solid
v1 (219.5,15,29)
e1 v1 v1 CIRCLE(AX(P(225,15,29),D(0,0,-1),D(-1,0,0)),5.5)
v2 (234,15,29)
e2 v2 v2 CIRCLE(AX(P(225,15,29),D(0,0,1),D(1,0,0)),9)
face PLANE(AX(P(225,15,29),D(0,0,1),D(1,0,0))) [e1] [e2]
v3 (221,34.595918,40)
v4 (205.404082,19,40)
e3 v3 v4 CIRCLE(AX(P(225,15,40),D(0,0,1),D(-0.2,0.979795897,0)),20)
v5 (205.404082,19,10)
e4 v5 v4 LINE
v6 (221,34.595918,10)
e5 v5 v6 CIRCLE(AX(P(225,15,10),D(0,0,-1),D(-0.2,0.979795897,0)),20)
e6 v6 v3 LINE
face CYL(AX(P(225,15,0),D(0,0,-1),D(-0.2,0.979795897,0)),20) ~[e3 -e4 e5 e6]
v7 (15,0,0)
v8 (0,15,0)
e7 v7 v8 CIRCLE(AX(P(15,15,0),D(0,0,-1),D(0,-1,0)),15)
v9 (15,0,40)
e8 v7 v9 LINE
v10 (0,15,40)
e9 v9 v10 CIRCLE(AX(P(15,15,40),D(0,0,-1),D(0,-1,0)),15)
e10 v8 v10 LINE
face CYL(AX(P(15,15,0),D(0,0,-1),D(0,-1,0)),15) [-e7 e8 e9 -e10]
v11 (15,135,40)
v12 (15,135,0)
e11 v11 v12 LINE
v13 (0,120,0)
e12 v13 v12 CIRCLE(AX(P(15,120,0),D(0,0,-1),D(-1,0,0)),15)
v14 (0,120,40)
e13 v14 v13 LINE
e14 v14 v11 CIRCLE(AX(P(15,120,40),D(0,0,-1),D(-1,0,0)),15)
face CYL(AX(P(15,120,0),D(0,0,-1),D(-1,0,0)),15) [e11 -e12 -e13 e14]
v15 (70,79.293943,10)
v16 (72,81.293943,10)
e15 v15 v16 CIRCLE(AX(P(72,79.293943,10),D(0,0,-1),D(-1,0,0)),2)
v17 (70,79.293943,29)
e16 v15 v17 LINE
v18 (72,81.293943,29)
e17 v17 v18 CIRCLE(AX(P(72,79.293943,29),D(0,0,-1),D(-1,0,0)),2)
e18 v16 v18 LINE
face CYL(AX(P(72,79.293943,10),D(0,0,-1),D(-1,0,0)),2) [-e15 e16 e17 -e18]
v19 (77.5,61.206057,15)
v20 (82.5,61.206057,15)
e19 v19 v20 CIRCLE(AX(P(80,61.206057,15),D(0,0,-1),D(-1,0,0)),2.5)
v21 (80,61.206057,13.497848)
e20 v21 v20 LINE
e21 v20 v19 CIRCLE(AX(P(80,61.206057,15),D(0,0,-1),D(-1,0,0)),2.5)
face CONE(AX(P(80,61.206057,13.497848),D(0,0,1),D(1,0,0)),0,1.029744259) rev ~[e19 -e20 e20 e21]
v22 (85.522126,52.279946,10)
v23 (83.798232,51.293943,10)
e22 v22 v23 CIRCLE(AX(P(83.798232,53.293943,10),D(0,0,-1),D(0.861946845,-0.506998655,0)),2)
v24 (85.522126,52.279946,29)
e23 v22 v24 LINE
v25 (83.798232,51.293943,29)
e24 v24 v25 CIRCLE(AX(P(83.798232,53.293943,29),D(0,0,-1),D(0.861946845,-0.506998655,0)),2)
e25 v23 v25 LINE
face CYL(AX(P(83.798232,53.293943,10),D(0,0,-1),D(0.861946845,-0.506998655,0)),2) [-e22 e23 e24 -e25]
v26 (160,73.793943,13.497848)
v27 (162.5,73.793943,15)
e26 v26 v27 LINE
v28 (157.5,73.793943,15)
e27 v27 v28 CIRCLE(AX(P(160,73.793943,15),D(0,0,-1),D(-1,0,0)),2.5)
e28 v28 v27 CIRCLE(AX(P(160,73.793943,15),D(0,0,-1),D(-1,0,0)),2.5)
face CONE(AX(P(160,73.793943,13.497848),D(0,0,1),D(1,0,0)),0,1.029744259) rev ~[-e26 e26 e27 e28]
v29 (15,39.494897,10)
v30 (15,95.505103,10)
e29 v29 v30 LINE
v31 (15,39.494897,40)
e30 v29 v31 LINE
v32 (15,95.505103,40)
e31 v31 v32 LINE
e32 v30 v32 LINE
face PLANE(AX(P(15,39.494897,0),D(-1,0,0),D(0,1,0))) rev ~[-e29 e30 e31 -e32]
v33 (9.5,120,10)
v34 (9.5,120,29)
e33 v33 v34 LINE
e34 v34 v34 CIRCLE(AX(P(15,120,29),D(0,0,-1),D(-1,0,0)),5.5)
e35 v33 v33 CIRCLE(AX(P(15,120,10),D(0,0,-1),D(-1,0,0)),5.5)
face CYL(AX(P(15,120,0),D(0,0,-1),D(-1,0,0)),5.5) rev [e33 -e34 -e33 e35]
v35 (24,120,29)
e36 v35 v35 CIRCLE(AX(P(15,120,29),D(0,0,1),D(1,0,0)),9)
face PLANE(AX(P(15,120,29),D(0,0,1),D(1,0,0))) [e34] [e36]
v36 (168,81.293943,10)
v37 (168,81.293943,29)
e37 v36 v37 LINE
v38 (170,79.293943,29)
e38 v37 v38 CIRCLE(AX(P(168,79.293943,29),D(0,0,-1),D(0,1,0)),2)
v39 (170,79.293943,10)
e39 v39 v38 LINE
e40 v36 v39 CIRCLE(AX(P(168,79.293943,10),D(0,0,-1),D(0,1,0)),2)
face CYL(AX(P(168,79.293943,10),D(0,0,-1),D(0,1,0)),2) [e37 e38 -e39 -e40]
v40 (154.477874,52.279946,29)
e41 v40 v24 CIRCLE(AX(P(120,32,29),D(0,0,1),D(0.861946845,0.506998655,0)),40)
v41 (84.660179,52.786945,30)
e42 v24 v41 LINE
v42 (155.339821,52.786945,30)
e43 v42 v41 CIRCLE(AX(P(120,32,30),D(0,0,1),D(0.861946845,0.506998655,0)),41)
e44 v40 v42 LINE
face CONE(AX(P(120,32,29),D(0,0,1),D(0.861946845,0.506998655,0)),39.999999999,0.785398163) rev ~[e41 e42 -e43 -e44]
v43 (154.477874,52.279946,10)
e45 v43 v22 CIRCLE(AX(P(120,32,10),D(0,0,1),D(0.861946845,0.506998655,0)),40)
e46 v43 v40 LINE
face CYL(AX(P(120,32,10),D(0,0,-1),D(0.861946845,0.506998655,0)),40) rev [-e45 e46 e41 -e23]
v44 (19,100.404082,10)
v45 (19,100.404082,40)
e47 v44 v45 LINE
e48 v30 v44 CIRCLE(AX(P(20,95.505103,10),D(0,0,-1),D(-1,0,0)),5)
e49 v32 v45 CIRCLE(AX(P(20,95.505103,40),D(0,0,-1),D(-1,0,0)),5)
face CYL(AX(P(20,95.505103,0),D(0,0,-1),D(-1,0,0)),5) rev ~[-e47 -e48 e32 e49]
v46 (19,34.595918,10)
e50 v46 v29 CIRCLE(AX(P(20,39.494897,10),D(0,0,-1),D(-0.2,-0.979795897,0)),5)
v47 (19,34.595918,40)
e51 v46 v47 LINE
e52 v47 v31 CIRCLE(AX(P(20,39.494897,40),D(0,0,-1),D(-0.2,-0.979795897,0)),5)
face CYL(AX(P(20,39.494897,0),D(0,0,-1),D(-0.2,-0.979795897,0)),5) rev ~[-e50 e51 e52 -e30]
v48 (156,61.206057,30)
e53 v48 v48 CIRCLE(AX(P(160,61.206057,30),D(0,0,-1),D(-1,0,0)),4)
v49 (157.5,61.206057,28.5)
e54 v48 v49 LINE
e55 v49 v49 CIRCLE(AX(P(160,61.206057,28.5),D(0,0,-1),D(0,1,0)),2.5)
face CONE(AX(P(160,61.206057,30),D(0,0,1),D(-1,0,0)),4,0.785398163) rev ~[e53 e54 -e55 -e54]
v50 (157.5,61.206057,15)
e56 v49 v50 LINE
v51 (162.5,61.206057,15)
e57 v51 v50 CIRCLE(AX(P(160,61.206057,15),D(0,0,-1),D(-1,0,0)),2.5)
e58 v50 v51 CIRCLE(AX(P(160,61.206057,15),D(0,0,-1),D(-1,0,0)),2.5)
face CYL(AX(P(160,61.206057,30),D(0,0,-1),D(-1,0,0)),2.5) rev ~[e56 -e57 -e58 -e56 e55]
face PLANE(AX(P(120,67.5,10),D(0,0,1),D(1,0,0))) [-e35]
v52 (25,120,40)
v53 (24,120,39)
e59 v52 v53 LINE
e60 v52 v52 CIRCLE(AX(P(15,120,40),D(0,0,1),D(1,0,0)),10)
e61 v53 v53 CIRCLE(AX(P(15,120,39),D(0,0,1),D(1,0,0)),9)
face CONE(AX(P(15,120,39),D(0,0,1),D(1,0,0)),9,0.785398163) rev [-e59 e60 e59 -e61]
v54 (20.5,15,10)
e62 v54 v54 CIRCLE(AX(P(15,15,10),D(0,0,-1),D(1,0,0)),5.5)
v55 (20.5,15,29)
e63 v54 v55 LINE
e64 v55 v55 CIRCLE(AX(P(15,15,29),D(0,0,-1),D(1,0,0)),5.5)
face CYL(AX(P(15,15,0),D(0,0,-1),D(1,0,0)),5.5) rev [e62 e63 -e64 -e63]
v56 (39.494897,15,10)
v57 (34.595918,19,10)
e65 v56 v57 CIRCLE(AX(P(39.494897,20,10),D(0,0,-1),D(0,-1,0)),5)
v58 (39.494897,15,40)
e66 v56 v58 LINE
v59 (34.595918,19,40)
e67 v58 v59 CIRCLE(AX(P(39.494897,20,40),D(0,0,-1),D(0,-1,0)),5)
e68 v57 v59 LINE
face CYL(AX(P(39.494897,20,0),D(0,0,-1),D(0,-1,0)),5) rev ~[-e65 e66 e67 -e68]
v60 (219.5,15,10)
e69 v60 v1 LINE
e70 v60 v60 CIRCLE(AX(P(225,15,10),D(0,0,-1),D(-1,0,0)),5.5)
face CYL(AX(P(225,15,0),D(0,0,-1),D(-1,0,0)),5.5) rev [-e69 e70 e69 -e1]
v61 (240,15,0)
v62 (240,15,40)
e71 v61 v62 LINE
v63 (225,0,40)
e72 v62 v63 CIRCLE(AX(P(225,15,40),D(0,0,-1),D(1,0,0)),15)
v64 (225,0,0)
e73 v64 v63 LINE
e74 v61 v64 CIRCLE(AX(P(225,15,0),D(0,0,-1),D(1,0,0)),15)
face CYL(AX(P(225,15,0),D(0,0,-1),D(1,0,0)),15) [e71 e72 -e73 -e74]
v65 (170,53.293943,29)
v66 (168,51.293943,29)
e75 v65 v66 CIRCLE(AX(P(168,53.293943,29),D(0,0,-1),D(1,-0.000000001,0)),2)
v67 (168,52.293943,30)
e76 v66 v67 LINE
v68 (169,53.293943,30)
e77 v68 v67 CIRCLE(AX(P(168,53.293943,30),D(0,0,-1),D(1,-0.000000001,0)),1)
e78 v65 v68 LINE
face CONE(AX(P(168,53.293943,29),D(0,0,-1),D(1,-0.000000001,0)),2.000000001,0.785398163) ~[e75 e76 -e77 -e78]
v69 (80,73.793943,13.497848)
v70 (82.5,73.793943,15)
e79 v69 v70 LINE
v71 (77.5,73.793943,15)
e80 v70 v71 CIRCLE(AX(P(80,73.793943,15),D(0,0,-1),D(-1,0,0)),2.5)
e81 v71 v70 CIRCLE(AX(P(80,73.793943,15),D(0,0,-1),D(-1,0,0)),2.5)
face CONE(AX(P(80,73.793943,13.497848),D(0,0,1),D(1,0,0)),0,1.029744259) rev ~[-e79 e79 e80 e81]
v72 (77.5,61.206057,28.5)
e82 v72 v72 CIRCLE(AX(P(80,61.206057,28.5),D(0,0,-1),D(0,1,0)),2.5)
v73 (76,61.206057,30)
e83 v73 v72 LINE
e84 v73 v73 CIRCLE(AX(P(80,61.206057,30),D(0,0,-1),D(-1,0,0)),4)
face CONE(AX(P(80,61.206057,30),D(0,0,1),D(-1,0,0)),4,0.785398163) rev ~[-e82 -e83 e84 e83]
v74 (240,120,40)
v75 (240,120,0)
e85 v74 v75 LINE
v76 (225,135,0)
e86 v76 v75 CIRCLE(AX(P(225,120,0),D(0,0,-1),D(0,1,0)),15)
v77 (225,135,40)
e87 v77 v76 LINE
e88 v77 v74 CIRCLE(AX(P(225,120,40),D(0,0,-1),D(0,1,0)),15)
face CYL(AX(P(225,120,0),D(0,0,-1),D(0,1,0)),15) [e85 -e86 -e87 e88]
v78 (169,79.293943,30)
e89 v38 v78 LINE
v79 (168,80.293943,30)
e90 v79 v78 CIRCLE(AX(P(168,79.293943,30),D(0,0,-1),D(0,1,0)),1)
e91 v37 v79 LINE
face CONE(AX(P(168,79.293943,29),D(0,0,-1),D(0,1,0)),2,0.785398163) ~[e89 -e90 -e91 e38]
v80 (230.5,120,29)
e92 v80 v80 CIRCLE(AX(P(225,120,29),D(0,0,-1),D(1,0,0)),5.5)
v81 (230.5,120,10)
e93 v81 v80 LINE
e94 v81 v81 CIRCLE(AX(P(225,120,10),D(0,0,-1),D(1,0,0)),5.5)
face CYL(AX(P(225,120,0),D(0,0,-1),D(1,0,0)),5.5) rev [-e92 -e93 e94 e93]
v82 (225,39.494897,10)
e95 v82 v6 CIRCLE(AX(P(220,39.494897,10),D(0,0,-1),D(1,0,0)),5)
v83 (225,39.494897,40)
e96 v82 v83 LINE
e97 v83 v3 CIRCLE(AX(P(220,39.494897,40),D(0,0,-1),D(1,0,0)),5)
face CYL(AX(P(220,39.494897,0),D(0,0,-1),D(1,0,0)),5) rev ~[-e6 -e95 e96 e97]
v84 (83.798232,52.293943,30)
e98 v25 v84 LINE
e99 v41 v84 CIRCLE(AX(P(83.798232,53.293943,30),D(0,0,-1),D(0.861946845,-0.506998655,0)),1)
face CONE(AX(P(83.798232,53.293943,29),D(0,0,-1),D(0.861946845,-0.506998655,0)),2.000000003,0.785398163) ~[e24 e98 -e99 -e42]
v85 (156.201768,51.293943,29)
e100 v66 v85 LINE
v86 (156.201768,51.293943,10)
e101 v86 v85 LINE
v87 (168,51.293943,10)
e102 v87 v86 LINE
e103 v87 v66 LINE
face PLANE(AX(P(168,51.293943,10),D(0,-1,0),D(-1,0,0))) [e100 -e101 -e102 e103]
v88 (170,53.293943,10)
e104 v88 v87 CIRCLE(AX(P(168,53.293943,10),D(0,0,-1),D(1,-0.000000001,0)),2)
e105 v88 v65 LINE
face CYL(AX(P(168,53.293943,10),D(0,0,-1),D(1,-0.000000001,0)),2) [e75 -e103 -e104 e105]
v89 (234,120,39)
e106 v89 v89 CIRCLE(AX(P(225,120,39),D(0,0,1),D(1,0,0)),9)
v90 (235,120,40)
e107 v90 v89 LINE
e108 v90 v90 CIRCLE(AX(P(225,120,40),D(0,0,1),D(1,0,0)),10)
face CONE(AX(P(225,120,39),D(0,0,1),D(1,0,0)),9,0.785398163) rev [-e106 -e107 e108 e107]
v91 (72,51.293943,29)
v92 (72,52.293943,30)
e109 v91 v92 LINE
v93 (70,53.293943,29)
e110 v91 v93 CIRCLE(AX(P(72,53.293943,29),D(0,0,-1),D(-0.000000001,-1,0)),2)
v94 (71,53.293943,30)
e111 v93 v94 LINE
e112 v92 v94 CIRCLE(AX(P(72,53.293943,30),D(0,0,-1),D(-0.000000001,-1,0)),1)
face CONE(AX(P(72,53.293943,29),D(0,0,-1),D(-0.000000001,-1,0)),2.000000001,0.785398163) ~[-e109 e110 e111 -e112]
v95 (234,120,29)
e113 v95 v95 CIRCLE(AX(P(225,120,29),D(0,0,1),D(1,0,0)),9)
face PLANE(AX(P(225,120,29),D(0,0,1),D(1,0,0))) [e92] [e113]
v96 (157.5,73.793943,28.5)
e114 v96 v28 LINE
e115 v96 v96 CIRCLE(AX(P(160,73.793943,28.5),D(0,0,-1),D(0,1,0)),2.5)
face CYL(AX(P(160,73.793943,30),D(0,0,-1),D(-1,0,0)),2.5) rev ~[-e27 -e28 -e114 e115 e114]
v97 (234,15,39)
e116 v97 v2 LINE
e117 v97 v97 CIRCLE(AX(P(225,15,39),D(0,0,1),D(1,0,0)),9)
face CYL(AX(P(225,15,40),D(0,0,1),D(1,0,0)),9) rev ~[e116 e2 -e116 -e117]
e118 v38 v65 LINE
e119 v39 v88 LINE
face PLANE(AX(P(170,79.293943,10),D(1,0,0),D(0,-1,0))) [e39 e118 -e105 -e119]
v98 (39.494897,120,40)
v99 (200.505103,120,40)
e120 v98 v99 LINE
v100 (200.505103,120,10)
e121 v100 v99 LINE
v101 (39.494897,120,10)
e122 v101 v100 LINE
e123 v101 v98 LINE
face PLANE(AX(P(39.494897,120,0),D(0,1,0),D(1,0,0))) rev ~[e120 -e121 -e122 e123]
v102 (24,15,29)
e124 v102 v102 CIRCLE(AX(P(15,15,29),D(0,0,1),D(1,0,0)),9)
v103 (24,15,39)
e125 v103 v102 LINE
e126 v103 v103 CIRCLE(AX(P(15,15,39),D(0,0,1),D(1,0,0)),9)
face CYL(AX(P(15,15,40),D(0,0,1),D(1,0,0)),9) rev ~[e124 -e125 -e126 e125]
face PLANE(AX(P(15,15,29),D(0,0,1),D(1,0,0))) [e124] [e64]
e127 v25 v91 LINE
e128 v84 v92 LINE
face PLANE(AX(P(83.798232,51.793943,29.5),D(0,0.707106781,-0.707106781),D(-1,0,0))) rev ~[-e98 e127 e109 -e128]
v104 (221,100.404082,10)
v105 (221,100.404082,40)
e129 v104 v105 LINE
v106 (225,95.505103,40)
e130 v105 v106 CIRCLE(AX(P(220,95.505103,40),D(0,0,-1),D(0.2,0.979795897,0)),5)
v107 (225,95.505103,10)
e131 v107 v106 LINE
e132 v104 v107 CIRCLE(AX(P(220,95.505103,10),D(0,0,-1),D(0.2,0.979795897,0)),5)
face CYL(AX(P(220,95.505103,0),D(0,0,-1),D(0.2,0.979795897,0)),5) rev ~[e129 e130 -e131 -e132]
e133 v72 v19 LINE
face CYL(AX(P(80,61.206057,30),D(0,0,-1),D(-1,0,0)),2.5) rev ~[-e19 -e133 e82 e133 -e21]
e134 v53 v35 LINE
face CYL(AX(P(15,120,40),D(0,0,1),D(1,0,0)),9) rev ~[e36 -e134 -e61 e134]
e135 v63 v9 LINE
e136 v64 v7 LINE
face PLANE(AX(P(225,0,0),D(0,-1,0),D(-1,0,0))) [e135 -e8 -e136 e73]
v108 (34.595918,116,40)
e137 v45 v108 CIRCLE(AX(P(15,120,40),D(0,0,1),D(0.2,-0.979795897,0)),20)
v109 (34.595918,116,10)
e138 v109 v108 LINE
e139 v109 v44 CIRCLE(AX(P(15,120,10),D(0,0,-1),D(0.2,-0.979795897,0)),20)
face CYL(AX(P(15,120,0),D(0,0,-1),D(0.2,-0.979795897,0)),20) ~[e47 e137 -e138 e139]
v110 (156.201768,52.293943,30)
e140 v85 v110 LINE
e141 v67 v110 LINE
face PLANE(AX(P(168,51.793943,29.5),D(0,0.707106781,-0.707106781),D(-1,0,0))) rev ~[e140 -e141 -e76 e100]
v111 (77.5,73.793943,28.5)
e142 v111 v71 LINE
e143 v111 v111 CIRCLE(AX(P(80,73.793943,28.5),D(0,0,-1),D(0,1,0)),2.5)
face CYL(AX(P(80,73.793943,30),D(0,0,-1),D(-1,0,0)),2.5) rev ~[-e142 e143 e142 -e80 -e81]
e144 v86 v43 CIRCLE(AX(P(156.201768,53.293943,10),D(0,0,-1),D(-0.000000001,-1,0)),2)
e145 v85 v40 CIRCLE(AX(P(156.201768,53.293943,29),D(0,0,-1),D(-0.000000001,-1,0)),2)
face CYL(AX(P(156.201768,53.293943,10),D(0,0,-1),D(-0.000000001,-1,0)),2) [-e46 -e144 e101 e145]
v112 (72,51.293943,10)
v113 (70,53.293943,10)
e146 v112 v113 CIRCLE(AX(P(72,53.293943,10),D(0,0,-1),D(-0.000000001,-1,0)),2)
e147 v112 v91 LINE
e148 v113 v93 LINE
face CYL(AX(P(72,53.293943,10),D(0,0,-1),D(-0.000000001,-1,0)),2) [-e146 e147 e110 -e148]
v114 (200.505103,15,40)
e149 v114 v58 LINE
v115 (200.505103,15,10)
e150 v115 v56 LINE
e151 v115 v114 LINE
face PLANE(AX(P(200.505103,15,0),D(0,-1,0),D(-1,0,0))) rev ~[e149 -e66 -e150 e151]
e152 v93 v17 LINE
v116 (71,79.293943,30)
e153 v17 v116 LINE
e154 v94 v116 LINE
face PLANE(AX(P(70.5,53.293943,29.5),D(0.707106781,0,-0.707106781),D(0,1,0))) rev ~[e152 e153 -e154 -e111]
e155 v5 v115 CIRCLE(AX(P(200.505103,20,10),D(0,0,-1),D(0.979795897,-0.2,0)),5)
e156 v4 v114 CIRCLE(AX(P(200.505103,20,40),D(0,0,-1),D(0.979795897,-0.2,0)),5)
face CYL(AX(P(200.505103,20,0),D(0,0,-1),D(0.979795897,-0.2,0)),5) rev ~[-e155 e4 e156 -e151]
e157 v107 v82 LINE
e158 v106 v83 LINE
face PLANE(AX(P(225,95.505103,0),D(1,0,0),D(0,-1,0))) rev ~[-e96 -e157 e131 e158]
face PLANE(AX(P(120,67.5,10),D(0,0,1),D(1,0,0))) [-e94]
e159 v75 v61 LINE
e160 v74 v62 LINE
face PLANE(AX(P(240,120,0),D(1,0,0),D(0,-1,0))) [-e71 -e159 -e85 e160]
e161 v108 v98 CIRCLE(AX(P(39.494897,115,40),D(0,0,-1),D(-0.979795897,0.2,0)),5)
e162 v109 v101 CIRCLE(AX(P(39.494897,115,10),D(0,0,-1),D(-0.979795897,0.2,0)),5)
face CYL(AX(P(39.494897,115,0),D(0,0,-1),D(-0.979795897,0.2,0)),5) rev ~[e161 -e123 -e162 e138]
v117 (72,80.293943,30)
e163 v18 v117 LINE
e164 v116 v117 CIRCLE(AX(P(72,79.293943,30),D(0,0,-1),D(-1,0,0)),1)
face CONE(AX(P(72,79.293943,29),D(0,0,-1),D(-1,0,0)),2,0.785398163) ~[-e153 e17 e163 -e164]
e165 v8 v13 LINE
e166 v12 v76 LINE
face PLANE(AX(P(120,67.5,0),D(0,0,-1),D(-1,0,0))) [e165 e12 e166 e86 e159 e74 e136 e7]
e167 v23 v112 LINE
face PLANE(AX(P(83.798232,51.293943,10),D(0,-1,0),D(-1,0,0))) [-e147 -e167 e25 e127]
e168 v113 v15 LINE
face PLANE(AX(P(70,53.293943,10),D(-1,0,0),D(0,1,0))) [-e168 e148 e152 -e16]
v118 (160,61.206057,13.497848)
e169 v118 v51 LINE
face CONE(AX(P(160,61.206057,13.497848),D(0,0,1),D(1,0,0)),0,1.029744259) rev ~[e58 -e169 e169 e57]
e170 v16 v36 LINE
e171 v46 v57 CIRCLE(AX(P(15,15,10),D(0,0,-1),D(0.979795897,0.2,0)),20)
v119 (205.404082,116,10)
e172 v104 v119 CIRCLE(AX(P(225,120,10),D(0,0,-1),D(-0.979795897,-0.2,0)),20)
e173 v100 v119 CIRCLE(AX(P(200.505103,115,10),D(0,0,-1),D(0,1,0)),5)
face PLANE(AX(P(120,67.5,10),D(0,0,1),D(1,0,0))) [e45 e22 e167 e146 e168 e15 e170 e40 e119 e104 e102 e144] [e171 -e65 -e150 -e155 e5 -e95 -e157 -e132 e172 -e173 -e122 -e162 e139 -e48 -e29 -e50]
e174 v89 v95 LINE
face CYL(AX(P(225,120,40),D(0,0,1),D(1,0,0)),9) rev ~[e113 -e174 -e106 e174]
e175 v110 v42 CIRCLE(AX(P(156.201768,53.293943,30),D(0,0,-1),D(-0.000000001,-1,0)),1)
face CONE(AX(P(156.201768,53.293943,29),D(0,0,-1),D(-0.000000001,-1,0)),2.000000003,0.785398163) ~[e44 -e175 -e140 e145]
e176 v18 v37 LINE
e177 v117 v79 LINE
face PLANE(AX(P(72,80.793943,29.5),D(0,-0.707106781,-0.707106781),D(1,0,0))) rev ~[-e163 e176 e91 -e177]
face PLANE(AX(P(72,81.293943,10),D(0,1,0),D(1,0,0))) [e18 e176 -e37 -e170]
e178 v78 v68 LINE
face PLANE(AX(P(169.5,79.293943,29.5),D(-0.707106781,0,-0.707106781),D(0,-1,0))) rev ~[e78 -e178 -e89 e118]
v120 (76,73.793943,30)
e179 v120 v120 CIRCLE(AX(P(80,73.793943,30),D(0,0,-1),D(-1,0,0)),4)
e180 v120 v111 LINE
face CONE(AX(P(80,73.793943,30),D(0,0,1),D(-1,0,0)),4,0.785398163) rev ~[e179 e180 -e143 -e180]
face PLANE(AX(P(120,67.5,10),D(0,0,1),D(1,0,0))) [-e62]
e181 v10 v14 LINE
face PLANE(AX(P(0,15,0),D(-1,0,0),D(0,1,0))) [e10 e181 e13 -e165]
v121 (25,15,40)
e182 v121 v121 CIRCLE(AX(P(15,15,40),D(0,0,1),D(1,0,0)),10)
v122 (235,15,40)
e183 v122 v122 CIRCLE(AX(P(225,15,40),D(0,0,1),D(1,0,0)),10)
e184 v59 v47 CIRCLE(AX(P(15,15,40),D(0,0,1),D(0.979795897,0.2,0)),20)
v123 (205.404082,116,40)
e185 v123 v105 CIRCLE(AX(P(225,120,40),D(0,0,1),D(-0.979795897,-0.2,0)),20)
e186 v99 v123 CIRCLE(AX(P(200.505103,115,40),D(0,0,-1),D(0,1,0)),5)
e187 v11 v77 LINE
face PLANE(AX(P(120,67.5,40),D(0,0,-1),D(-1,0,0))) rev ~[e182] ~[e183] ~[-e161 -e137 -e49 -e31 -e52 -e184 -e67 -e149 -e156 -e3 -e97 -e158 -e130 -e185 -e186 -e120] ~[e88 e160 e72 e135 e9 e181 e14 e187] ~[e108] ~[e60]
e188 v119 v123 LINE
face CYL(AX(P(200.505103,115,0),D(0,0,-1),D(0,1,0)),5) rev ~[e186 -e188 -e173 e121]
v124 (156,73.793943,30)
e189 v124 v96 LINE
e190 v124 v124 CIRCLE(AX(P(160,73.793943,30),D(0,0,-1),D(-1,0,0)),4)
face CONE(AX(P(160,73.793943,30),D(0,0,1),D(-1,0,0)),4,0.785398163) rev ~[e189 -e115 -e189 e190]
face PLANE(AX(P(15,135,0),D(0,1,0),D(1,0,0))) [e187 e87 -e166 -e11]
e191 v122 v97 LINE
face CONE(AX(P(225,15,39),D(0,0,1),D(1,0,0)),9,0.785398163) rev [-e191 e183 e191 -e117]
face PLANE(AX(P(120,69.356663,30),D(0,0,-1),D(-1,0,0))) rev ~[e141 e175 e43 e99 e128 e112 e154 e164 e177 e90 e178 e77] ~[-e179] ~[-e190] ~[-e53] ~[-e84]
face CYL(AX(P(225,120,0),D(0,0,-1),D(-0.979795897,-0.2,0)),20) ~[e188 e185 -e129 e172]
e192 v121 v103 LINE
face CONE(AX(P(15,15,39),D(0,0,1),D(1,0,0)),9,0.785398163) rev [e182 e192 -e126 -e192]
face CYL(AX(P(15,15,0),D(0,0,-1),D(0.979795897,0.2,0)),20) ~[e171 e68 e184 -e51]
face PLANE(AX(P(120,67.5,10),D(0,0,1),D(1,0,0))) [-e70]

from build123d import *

# Parameters (mm, degrees)
SKETCH_1_R                   = 5.5
EXTRUDE_1_DEPTH              = 40
EXTRUDE_2_DEPTH              = 10
EXTRUDE_3_DEPTH              = 20
HOLE_WIZARD_M6_3_D           = 5
HOLE_WIZARD_M6_3_DEPTH       = 15
HOLE_WIZARD_M6_3_CSINK_D     = 8
HOLE_WIZARD_M6_3_CSINK_ANGLE = 90
HOLE_WIZARD_M6_3_TIP         = 1.502151548
SKETCH_9_R                   = 9
CUT_EXTRUDE_1_DEPTH          = 11
CHAMFER_2_SIZE               = 1
CHAMFER_3_SIZE               = 1


with BuildPart() as part:
    # 草图1 → 凸台-拉伸1 (new body)
    with BuildSketch(Plane.XY):
        with BuildLine():
            Line((0, 15), (0, 120))
            ThreePointArc((0, 120), (4.393398282, 130.606601718), (15, 135))
            Line((15, 135), (225, 135))
            ThreePointArc((225, 135), (235.606601718, 130.606601718), (240, 120))
            Line((240, 120), (240, 15))
            ThreePointArc((240, 15), (235.606601718, 4.393398282), (225, 0))
            Line((225, 0), (15, 0))
            ThreePointArc((15, 0), (4.393398282, 4.393398282), (0, 15))
        make_face()
        with Locations((225, 120)):
            Circle(SKETCH_1_R, mode=Mode.SUBTRACT)
        with Locations(Location((225, 15, 0), (0, 0, 180))):
            Circle(SKETCH_1_R, mode=Mode.SUBTRACT)
        with Locations((15, 15)):
            Circle(SKETCH_1_R, mode=Mode.SUBTRACT)
        with Locations(Location((15, 120, 0), (0, 0, 180))):
            Circle(SKETCH_1_R, mode=Mode.SUBTRACT)
        with BuildLine():
            Line((15, 39.494897428), (15, 95.505102572))
            ThreePointArc((15, 95.505102572), (16.127016654, 98.667380232), (19, 100.404082058))
            ThreePointArc((19, 100.404082058), (29.142135624, 105.857864376), (34.595917942, 116))
            ThreePointArc((34.595917942, 116), (36.332619768, 118.872983346), (39.494897428, 120))
            Line((39.494897428, 120), (200.505102572, 120))
            ThreePointArc((200.505102572, 120), (203.667380232, 118.872983346), (205.404082058, 116))
            ThreePointArc((205.404082058, 116), (210.857864376, 105.857864376), (221, 100.404082058))
            ThreePointArc((221, 100.404082058), (223.872983346, 98.667380232), (225, 95.505102572))
            Line((225, 95.505102572), (225, 39.494897428))
            ThreePointArc((225, 39.494897428), (223.872983346, 36.332619768), (221, 34.595917942))
            ThreePointArc((221, 34.595917942), (210.857864376, 29.142135624), (205.404082058, 19))
            ThreePointArc((205.404082058, 19), (203.667380232, 16.127016654), (200.505102572, 15))
            Line((200.505102572, 15), (39.494897428, 15))
            ThreePointArc((39.494897428, 15), (36.332619768, 16.127016654), (34.595917942, 19))
            ThreePointArc((34.595917942, 19), (29.142135624, 29.142135624), (19, 34.595917942))
            ThreePointArc((19, 34.595917942), (16.127016654, 36.332619768), (15, 39.494897428))
        make_face(mode=Mode.SUBTRACT)
    extrude(amount=EXTRUDE_1_DEPTH)

    # 草图2 → 凸台-拉伸2 (add)
    with BuildSketch(Plane(origin=(0, 0, 0), x_dir=(-1, 0, 0), z_dir=(0, 0, -1))):
        with BuildLine():
            Line((-225, 135), (-15, 135))
            ThreePointArc((-15, 135), (-4.393398282, 130.606601718), (0, 120))
            Line((0, 120), (0, 15))
            ThreePointArc((0, 15), (-4.393398282, 4.393398282), (-15, 0))
            Line((-15, 0), (-225, 0))
            ThreePointArc((-225, 0), (-235.606601718, 4.393398282), (-240, 15))
            Line((-240, 15), (-240, 120))
            ThreePointArc((-240, 120), (-235.606601718, 130.606601718), (-225, 135))
        make_face()
    extrude(amount=-EXTRUDE_2_DEPTH)

    # 草图3 → 凸台-拉伸3 (add)
    with BuildSketch(Plane.XY.offset(10)):
        with BuildLine():
            Line((72, 81.293943495), (168, 81.293943495))
            ThreePointArc((168, 81.293943495), (169.414213562, 80.708157058), (170, 79.293943495))
            Line((170, 79.293943495), (170, 53.293943495))
            ThreePointArc((170, 53.293943495), (169.414213562, 51.879729933), (168, 51.293943495))
            Line((168, 51.293943495), (156.201767504, 51.293943495))
            ThreePointArc((156.201767504, 51.293943495), (155.208790822, 51.557856715), (154.477873813, 52.279946186))
            ThreePointArc((154.477873813, 52.279946186), (120, 72), (85.522126187, 52.279946186))
            ThreePointArc((85.522126187, 52.279946186), (84.791209178, 51.557856715), (83.798232496, 51.293943495))
            Line((83.798232496, 51.293943495), (72, 51.293943495))
            ThreePointArc((72, 51.293943495), (70.585786438, 51.879729933), (70, 53.293943495))
            Line((70, 53.293943495), (70, 79.293943495))
            ThreePointArc((70, 79.293943495), (70.585786438, 80.708157058), (72, 81.293943495))
        make_face()
    extrude(amount=EXTRUDE_3_DEPTH)

    # M6 螺纹孔3
    with Locations(Plane(origin=(80, 73.793943495, 30), x_dir=(1, 0, 0), z_dir=(0, 0, 1))):
        with Locations((0, 0), (0, -12.58788699), (80, 0), (80, -12.58788699)):
            CounterSinkHole(HOLE_WIZARD_M6_3_D / 2, HOLE_WIZARD_M6_3_CSINK_D / 2, depth=HOLE_WIZARD_M6_3_DEPTH, counter_sink_angle=HOLE_WIZARD_M6_3_CSINK_ANGLE)
            with Locations((0, 0, -(HOLE_WIZARD_M6_3_DEPTH + HOLE_WIZARD_M6_3_TIP / 2))):  # 118° drill point
                Cone(0, HOLE_WIZARD_M6_3_D / 2, HOLE_WIZARD_M6_3_TIP, mode=Mode.SUBTRACT)

    # 草图9 → 切除-拉伸1 (cut)
    with BuildSketch(Plane.XY.offset(40)):
        with Locations((15, 120)):
            Circle(SKETCH_9_R)
        with Locations((15, 15)):
            Circle(SKETCH_9_R)
        with Locations((225, 120)):
            Circle(SKETCH_9_R)
        with Locations((225, 15)):
            Circle(SKETCH_9_R)
    extrude(amount=-CUT_EXTRUDE_1_DEPTH, mode=Mode.SUBTRACT)

    # 倒角2
    chamfer_2_edges = [part.edges().sort_by_distance(p)[0] for p in [
        (6, 15, 40),
        (216, 120, 40),
        (216, 15, 40),
        (6, 120, 40),
    ]]
    chamfer(chamfer_2_edges, length=CHAMFER_2_SIZE)

    # 倒角3
    chamfer_3_edges = [part.edges().sort_by_distance(p)[0] for p in [
        (70.585786438, 51.879729933, 30),
        (155.208790822, 51.557856715, 30),
        (162.100883752, 51.293943495, 30),
        (169.414213562, 51.879729933, 30),
        (170, 66.293943495, 30),
        (169.414213562, 80.708157058, 30),
        (120, 81.293943495, 30),
        (70.585786438, 80.708157058, 30),
        (70, 66.293943495, 30),
        (77.899116248, 51.293943495, 30),
        (84.791209178, 51.557856715, 30),
        (120, 72, 30),
    ]]
    chamfer(chamfer_3_edges, length=CHAMFER_3_SIZE)


solid = part.part
